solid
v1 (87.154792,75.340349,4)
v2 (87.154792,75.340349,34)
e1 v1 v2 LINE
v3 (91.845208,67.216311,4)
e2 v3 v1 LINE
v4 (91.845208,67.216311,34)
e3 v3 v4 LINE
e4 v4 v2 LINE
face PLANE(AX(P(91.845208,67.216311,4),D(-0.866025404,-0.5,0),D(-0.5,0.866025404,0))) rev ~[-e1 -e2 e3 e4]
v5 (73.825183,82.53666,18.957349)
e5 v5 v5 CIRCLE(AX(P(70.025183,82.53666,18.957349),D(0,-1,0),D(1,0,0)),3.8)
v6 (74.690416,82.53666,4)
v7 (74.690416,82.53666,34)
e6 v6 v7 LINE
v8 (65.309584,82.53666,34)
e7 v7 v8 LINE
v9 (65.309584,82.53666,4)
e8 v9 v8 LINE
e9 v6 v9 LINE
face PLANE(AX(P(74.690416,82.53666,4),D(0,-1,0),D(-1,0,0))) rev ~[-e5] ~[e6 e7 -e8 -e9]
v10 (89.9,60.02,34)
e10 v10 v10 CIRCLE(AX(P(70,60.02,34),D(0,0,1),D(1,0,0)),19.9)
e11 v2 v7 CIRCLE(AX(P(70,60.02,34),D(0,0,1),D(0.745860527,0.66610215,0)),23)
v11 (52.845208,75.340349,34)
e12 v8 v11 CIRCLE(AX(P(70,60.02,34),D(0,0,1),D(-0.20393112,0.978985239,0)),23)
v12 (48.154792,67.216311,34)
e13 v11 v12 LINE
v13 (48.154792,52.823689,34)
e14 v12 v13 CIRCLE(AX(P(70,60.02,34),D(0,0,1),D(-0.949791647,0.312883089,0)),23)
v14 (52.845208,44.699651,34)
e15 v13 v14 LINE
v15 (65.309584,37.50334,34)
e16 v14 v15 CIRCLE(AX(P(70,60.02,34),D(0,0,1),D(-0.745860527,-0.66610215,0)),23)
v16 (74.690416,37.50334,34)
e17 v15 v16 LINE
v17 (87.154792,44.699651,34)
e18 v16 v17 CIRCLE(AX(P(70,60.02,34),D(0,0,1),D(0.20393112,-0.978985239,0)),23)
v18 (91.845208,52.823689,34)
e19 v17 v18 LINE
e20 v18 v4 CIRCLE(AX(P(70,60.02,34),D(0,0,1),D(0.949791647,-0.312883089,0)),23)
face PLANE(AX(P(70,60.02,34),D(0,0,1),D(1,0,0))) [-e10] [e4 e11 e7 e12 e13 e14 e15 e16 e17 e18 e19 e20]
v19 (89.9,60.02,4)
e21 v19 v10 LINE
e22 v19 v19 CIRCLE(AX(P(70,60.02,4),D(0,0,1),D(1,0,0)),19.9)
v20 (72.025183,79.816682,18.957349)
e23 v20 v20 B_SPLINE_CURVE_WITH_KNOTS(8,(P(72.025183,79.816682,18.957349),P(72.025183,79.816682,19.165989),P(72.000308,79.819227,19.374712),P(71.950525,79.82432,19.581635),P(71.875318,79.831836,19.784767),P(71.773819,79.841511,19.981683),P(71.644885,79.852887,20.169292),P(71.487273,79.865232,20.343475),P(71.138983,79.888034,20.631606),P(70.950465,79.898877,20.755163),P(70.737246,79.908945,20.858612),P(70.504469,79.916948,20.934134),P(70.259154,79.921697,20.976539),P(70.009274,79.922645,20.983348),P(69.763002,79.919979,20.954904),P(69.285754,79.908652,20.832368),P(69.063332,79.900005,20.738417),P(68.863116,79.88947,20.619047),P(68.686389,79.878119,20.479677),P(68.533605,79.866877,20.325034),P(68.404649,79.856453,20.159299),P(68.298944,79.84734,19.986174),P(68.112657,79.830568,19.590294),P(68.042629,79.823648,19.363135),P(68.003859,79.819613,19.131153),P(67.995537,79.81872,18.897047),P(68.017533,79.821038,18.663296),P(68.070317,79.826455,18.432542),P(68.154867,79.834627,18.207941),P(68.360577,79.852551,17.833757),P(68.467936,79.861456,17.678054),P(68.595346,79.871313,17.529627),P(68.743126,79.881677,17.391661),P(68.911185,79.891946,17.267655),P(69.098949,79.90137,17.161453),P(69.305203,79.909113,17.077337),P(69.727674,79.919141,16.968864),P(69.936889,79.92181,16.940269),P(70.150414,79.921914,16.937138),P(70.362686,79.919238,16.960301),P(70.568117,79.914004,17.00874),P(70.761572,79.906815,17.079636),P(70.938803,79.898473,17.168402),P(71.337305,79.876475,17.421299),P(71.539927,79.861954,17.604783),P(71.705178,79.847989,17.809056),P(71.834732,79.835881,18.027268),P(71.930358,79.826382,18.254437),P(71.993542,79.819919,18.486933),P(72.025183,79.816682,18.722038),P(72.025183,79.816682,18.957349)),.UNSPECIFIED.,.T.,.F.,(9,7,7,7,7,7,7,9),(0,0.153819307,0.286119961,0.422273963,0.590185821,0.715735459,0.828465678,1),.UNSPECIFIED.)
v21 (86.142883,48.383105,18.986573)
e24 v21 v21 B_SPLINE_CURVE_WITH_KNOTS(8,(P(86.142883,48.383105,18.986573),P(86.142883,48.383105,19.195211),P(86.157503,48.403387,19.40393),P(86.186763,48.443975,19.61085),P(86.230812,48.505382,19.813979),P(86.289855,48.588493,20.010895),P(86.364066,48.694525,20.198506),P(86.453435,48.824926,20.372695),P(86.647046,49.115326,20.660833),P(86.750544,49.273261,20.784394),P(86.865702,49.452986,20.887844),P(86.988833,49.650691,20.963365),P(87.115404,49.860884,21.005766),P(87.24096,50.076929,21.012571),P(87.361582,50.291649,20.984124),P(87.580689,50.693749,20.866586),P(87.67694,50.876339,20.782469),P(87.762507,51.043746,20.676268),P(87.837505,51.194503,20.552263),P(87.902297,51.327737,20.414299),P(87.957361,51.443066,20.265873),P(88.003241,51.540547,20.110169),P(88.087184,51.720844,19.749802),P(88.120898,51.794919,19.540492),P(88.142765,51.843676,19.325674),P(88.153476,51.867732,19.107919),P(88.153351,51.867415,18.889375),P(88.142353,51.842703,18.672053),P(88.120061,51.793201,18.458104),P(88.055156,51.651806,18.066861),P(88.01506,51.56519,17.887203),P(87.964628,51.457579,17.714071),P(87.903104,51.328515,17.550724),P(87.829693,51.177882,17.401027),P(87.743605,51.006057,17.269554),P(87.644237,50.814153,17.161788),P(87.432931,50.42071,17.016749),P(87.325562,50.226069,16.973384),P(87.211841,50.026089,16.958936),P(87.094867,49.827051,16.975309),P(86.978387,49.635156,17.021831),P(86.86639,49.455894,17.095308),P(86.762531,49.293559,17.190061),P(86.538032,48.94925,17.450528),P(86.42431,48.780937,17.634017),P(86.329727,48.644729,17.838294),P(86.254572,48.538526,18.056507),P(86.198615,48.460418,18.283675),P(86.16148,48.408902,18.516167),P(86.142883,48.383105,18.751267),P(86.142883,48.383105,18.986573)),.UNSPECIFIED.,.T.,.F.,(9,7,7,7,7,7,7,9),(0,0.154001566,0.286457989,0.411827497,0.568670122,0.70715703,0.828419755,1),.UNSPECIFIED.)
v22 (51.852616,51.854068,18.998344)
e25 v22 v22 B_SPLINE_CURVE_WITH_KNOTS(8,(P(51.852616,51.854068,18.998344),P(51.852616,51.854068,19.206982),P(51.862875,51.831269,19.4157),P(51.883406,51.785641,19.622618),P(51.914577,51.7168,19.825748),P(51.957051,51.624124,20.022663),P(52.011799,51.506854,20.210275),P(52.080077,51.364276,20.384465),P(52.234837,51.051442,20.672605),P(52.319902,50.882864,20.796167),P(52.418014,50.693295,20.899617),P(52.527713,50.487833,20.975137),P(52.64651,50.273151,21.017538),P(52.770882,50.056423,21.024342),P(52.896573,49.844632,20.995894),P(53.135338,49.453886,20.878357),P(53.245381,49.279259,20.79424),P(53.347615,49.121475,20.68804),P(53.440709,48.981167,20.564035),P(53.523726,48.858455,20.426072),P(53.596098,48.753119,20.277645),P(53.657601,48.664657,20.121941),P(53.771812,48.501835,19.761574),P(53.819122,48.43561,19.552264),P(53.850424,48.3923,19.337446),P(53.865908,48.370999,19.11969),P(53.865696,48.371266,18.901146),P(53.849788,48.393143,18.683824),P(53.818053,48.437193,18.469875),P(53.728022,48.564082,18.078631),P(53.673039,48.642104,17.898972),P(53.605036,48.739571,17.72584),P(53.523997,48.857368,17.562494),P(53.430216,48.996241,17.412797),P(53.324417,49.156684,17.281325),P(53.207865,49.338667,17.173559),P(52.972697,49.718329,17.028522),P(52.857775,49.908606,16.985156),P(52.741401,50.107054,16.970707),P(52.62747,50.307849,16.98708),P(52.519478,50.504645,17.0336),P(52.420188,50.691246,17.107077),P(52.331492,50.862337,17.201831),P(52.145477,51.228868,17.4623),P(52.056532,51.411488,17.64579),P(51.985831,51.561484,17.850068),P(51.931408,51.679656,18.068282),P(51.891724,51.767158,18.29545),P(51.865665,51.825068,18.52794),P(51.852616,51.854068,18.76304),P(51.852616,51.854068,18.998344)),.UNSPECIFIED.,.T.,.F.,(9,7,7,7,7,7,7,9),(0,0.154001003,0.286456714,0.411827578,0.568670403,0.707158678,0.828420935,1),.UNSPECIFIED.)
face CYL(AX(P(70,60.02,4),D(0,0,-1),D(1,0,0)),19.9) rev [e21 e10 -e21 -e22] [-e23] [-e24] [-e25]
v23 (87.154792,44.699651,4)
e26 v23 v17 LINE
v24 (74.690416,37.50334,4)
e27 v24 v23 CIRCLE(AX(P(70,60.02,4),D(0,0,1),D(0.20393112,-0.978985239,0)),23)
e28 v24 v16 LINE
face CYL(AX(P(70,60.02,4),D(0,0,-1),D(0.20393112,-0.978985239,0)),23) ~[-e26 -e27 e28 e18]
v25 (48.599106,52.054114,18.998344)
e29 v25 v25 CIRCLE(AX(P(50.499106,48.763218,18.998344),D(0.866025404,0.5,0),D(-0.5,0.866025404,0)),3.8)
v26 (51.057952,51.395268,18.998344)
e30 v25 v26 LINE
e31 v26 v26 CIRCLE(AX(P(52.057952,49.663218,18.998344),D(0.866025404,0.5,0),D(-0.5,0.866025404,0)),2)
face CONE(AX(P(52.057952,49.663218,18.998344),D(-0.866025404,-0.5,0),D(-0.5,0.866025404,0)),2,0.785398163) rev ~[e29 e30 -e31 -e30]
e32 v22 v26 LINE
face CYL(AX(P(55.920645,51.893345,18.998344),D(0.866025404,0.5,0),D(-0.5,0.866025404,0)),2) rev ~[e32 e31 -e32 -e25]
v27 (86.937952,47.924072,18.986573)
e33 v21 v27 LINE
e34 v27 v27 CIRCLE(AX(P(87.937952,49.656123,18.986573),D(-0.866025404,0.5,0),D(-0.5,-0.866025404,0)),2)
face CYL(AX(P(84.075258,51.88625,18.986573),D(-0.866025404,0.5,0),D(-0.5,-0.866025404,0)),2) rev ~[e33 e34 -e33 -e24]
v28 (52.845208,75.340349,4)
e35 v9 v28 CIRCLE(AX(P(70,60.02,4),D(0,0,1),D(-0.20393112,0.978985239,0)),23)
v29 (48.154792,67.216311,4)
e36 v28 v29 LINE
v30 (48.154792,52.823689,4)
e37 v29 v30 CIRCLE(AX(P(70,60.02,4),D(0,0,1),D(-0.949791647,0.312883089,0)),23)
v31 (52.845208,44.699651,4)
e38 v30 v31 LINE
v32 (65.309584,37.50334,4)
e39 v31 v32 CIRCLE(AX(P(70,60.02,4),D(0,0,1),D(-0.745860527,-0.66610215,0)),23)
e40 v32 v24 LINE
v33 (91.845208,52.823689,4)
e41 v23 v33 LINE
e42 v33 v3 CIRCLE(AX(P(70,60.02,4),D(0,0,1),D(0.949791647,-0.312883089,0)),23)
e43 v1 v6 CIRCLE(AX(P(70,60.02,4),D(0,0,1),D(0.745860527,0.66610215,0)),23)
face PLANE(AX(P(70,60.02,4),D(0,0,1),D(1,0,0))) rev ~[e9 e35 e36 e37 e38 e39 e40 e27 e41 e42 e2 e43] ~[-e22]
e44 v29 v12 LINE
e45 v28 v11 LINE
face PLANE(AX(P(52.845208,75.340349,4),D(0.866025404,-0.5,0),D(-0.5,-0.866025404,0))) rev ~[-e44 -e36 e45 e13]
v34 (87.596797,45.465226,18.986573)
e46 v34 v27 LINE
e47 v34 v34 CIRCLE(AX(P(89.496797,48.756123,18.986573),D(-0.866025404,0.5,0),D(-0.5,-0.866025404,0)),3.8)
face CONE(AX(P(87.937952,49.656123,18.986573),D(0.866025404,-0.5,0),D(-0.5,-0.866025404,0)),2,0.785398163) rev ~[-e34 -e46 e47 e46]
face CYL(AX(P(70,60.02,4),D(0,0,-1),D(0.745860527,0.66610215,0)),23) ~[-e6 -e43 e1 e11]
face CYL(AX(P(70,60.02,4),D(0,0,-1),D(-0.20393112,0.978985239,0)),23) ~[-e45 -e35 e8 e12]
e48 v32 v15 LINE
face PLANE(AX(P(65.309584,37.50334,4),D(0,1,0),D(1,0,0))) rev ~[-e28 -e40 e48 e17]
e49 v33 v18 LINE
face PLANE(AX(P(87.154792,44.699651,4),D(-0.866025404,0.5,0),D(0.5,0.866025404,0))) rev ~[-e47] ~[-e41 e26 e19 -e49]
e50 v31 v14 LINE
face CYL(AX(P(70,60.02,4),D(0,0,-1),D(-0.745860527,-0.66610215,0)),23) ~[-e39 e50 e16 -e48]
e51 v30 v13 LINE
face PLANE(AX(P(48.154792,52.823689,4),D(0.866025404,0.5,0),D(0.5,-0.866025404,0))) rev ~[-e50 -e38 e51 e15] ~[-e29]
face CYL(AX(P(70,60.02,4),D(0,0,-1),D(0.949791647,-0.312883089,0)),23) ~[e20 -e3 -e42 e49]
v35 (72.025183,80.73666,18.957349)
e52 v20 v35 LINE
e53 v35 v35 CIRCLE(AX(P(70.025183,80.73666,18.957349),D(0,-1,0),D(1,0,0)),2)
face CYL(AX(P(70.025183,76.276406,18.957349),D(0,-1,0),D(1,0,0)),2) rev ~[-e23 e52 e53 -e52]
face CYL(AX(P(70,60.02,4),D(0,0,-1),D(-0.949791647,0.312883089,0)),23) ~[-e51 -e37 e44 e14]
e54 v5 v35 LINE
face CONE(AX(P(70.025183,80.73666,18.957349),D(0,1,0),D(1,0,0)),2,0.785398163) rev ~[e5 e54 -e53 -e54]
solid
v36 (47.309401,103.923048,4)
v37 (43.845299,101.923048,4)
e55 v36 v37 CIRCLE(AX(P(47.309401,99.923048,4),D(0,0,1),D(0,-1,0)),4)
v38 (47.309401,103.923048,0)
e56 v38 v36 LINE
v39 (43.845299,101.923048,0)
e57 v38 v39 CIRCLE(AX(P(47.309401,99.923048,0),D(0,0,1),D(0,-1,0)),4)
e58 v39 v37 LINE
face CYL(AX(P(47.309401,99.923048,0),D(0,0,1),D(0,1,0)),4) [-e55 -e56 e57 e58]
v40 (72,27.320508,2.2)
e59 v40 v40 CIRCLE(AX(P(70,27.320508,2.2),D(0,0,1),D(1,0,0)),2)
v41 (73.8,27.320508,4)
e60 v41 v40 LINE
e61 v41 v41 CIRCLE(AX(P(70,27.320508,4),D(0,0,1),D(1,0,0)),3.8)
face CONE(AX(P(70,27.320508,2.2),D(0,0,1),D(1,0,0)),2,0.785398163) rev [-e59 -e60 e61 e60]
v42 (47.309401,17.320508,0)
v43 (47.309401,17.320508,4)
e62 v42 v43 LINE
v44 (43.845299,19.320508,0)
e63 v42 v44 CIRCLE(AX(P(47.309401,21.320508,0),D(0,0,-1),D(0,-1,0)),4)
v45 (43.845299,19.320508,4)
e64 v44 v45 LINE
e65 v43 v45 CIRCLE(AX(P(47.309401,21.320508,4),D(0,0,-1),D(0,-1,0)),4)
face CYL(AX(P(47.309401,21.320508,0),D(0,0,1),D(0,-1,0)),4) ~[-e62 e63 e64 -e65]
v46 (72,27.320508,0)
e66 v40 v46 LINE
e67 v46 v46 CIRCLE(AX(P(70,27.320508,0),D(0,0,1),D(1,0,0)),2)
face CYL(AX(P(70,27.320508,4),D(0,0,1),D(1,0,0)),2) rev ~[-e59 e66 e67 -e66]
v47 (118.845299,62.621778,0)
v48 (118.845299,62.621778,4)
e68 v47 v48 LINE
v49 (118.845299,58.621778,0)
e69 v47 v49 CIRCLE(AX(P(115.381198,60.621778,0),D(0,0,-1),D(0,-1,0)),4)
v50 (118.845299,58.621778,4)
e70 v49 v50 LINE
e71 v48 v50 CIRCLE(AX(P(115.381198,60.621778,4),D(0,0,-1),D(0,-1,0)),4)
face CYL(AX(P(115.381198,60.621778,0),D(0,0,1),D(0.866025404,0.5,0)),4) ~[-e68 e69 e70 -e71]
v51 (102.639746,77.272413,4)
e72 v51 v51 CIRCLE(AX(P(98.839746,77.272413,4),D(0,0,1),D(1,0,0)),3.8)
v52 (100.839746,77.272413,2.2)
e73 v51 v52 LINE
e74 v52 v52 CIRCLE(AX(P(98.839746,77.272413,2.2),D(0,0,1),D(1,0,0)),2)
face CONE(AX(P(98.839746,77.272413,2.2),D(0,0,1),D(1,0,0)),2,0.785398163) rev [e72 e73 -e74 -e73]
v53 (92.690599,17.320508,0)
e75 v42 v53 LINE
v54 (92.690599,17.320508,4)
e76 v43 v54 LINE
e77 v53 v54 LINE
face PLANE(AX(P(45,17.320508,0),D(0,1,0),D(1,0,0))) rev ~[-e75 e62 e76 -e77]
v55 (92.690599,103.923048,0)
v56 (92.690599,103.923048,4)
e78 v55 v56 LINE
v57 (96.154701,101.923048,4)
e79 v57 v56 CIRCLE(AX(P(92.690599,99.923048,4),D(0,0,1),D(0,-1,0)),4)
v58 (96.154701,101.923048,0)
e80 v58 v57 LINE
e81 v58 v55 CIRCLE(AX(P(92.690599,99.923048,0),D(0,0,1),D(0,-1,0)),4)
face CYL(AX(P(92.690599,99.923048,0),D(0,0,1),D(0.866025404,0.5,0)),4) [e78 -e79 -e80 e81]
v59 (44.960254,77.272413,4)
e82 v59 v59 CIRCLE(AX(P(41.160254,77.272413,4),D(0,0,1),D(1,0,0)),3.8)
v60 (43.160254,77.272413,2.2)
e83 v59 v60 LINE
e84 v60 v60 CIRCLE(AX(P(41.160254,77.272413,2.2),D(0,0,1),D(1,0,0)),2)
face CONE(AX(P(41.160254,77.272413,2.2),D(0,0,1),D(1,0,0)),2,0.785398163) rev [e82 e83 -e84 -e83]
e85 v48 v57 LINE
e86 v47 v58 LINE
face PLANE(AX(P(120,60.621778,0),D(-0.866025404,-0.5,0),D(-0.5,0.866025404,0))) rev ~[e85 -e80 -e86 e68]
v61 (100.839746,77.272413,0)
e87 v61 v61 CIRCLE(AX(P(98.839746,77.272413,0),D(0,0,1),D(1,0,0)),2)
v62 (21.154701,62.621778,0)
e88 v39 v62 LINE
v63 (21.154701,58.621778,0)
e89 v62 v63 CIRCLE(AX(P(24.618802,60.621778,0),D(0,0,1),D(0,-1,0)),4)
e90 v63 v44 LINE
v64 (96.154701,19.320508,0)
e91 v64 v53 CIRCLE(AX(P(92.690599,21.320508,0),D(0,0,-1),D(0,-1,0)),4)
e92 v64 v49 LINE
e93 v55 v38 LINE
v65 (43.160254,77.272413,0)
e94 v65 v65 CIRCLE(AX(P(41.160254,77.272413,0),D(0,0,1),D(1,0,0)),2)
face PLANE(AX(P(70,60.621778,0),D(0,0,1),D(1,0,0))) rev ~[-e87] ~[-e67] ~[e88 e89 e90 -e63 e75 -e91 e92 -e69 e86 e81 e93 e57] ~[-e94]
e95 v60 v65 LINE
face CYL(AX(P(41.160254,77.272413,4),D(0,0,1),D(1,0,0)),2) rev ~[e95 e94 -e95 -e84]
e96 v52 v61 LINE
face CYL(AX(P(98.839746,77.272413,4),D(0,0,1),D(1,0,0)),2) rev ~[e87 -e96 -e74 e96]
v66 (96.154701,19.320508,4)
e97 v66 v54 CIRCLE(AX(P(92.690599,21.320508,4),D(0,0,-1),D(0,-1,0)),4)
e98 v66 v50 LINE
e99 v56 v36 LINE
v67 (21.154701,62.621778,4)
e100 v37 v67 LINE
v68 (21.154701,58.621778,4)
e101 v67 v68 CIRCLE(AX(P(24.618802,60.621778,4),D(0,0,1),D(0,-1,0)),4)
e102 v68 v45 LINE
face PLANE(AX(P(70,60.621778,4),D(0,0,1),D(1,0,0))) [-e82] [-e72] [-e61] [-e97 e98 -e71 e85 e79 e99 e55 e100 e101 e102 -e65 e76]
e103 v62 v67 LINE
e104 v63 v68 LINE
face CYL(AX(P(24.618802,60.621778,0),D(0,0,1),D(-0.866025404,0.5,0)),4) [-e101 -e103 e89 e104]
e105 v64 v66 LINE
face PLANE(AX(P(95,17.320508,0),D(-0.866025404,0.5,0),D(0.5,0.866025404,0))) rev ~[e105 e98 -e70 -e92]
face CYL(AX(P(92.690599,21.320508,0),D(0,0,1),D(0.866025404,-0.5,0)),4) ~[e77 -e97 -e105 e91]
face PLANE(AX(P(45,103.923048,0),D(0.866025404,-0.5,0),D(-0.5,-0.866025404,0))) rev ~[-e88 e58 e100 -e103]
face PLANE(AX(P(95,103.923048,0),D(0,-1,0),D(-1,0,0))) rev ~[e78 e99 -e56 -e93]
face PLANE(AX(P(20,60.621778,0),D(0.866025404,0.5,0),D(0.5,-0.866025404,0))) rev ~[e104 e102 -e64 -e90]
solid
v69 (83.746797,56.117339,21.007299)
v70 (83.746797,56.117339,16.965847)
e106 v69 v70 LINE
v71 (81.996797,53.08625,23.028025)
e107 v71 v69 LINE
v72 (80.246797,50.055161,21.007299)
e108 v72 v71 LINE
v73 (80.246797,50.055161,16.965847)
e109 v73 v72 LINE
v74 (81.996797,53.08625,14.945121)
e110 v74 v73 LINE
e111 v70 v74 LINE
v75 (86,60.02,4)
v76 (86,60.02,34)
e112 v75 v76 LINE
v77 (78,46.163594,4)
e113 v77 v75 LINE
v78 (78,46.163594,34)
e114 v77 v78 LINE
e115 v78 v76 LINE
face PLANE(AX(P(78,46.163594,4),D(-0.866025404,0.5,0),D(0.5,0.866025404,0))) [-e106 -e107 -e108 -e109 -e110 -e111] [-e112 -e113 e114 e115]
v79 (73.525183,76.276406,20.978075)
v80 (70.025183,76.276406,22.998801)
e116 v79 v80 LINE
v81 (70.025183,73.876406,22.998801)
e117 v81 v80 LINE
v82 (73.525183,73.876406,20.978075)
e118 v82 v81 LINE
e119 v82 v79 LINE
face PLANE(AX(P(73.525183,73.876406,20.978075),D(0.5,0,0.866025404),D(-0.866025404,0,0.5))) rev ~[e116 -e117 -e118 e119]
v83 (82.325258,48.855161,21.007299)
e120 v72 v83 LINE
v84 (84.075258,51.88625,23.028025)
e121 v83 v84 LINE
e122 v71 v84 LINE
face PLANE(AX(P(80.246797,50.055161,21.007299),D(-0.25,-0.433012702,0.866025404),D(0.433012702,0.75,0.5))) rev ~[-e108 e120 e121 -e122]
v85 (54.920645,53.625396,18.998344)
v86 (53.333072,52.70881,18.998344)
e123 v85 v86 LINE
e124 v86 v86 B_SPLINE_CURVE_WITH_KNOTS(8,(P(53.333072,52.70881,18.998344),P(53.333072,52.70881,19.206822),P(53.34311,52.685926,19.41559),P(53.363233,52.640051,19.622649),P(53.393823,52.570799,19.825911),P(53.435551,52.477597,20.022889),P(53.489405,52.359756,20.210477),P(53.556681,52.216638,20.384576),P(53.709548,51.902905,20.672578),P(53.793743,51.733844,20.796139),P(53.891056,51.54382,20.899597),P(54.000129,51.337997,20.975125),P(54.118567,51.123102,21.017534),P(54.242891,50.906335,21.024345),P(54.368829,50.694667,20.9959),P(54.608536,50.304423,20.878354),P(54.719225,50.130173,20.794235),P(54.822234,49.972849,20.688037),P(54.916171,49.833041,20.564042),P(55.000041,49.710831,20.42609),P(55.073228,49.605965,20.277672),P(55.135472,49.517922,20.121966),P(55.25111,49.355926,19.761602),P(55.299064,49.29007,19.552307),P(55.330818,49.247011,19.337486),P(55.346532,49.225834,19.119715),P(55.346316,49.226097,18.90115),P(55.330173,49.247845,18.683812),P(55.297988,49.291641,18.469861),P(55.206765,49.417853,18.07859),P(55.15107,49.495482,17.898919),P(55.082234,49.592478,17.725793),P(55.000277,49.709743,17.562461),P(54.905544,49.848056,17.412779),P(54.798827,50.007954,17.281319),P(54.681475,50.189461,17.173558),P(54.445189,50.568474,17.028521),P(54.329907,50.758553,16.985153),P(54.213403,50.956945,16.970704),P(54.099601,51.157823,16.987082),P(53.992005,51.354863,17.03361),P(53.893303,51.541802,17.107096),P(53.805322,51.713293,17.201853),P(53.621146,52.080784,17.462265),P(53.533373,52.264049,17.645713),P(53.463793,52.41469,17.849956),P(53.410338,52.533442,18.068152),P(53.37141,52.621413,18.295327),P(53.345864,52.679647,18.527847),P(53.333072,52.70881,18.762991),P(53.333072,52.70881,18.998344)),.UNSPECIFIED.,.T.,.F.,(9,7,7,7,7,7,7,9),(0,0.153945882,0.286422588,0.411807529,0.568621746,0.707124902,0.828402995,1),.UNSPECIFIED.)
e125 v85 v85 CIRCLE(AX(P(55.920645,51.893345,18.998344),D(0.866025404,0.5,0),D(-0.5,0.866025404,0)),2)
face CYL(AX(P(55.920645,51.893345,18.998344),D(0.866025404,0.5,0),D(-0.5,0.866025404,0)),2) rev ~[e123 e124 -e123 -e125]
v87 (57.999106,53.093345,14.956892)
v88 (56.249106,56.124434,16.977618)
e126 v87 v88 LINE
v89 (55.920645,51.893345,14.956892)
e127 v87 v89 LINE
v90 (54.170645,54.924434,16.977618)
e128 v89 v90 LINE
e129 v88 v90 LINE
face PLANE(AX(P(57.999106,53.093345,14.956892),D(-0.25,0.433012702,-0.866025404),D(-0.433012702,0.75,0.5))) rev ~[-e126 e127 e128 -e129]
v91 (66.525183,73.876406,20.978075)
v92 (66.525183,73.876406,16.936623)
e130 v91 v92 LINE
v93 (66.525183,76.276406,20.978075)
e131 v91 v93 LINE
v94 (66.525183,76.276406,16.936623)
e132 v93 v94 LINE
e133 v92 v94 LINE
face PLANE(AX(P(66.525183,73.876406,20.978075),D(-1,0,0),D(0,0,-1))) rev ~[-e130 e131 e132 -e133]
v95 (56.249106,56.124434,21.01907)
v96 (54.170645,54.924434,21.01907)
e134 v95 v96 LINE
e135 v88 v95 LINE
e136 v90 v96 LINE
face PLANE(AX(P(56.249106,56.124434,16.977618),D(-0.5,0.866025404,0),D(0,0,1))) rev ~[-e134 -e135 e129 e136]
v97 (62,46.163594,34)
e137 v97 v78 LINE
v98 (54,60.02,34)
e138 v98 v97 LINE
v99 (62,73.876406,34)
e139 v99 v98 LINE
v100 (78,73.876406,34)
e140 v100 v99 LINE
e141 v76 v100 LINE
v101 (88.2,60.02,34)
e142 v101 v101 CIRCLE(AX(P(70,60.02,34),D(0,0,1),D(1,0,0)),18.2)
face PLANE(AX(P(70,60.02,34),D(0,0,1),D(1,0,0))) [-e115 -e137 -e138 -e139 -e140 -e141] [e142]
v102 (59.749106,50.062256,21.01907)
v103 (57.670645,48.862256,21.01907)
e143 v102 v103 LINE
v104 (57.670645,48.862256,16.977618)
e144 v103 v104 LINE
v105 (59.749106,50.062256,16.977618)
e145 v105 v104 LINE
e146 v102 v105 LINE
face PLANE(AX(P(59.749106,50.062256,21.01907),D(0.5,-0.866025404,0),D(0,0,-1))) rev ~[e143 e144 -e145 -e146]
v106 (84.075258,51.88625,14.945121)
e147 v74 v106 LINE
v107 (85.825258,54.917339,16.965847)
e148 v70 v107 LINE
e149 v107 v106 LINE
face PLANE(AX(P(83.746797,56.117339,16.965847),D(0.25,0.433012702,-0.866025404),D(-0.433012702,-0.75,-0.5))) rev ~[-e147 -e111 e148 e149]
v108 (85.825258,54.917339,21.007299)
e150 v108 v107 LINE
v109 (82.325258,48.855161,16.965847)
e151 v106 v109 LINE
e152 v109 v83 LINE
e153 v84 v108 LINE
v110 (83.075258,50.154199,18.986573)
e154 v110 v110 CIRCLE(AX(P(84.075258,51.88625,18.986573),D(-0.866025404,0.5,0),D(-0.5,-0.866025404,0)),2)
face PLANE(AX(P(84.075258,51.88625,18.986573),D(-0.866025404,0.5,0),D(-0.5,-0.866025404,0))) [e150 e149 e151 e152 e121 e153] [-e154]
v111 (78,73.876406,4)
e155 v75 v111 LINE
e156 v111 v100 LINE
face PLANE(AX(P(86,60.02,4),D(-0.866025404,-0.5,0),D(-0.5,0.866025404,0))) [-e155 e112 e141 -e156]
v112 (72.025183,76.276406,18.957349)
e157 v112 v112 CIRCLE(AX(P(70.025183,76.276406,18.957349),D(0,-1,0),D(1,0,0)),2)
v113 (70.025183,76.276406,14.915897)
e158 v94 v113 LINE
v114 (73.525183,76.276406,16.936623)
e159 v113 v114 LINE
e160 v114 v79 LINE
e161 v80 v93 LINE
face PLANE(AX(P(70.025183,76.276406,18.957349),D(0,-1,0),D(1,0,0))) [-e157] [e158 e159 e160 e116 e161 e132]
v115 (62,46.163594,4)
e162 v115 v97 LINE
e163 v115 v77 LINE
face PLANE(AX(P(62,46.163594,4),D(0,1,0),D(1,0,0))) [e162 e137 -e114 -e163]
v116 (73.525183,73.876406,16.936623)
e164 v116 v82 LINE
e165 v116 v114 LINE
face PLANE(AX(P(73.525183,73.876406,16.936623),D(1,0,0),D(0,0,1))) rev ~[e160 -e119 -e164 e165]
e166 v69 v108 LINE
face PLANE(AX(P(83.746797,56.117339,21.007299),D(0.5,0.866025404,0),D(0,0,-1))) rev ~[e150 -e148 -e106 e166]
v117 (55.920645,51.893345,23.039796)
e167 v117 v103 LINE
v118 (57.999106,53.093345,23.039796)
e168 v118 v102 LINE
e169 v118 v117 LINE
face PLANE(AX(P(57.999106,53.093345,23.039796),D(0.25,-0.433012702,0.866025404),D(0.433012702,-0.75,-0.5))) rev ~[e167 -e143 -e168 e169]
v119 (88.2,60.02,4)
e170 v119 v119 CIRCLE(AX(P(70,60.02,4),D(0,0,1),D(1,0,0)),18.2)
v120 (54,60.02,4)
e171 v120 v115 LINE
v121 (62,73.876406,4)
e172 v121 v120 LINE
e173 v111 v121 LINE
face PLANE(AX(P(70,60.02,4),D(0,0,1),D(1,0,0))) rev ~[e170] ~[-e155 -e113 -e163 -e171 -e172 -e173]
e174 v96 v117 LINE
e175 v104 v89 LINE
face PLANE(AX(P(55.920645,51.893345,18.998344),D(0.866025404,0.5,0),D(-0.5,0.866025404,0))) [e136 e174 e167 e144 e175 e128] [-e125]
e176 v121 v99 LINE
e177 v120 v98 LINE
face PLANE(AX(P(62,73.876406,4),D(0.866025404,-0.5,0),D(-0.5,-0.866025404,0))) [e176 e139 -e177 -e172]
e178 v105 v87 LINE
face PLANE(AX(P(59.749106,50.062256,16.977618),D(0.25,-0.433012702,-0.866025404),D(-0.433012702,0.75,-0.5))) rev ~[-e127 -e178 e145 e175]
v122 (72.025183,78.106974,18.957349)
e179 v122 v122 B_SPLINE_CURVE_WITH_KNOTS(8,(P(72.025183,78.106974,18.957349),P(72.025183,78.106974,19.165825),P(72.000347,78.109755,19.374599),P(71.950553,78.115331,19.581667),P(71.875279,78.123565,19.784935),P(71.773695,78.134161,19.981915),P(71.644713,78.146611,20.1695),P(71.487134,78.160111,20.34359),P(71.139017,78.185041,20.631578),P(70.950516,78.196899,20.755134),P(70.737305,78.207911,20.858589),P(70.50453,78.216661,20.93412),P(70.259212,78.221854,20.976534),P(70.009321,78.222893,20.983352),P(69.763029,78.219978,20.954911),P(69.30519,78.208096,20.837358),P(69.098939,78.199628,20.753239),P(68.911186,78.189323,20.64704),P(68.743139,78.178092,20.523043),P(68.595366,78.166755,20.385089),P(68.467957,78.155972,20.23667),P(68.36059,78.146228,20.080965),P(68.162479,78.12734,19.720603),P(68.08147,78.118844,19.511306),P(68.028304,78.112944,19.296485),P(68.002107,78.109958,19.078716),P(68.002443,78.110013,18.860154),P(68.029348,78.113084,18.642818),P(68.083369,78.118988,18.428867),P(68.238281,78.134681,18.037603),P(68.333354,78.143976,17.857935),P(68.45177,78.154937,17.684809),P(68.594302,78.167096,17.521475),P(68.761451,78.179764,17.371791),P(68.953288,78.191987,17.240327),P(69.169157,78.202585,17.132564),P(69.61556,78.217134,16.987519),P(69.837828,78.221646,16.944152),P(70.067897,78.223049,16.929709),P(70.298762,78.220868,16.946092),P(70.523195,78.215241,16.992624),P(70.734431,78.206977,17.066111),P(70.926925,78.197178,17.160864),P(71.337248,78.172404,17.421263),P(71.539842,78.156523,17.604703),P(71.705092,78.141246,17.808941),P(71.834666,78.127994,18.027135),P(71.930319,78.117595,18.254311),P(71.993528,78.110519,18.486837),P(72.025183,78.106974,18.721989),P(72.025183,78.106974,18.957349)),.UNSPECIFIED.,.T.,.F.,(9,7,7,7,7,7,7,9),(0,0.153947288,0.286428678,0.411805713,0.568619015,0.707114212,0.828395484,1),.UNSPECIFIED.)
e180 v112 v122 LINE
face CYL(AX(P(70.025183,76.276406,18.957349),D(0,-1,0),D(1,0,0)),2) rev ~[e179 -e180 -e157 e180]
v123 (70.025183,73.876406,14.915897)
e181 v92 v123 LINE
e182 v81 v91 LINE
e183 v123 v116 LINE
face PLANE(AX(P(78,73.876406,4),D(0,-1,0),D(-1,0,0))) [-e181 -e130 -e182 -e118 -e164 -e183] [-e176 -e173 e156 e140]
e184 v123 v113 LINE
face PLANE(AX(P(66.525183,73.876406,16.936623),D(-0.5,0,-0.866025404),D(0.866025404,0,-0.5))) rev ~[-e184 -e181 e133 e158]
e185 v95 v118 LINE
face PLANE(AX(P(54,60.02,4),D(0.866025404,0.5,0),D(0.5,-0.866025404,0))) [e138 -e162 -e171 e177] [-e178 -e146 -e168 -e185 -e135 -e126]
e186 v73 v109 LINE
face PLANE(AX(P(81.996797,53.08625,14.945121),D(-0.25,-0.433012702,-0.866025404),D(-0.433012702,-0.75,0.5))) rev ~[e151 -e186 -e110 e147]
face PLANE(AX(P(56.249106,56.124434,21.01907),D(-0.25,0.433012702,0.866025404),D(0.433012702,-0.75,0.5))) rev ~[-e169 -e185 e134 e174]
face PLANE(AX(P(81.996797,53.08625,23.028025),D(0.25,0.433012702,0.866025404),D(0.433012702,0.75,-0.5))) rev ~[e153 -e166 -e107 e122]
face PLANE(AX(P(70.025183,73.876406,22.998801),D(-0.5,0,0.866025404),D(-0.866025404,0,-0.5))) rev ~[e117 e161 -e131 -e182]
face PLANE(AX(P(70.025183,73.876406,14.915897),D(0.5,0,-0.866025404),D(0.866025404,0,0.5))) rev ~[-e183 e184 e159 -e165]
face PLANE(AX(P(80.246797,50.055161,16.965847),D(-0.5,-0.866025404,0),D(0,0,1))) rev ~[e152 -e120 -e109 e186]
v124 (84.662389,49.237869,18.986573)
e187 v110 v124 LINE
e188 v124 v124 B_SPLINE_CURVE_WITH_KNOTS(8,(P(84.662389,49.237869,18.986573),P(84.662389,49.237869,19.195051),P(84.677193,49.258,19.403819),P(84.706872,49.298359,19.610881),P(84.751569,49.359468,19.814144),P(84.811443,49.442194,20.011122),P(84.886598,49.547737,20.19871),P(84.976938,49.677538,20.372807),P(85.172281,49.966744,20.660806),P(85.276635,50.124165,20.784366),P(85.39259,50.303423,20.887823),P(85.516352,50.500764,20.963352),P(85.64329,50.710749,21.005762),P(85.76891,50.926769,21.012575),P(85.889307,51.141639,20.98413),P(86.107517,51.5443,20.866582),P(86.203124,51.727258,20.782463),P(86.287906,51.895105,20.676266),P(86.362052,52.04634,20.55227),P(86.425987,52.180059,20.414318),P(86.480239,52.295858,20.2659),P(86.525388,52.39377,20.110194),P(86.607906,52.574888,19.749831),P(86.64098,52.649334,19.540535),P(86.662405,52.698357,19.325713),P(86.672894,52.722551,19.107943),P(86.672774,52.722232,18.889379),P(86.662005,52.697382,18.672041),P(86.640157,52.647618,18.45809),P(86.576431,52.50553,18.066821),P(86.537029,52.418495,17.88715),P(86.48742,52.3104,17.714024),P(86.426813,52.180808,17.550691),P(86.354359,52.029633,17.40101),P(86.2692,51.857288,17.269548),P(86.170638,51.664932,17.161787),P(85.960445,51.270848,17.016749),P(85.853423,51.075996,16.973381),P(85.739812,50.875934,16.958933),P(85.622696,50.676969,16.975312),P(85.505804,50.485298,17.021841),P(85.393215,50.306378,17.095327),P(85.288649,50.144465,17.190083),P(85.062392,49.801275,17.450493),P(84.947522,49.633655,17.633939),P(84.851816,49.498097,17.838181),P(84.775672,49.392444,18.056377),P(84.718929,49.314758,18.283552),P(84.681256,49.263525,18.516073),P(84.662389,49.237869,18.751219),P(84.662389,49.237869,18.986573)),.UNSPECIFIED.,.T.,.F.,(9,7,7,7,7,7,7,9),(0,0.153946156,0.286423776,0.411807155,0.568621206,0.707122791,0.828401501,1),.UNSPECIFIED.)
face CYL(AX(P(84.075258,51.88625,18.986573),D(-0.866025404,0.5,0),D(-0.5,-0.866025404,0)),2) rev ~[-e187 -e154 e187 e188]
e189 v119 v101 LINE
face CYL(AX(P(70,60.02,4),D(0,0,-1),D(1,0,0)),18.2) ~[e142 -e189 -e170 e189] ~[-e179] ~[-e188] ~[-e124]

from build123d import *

# Parameters (mm, degrees)
SKETCH008_AS_DRAWN_R                      = 2
EXTRUDE009_DEPTH                          = 10
EXTRUDE009_ONTO_SKETCH008_ROLL_ANGLE      = 90
EXTRUDE009_ONTO_SKETCH008_PLACEMENT_ANGLE = 120
SKETCH007_AS_DRAWN_R                      = 2
EXTRUDE008_DEPTH                          = 10
EXTRUDE008_ONTO_SKETCH007_ROLL_ANGLE      = 90
EXTRUDE008_ONTO_SKETCH007_PLACEMENT_ANGLE = -120
SKETCH006_R                               = 2
EXTRUDE007_DEPTH                          = 10
EXTRUDE006_DEPTH                          = 2.4
EXTRUDE006_ONTO_SKETCH005_ROLL_ANGLE      = 90
EXTRUDE006_ONTO_SKETCH005_PLACEMENT_ANGLE = -120
EXTRUDE005_DEPTH                          = 2.4
EXTRUDE005_ONTO_SKETCH004_ROLL_ANGLE      = 90
EXTRUDE005_ONTO_SKETCH004_PLACEMENT_ANGLE = 120
EXTRUDE004_DEPTH                          = 2.4
SKETCH001_R                               = 18.2
EXTRUDE001_DEPTH                          = 30
SKETCH002_R                               = 19.9
EXTRUDE002_DEPTH                          = 30
CHAMFER_SIZE                              = 1.8
SKETCH009_R                               = 2
EXTRUDE010_DEPTH                          = 10
EXTRUDE_DEPTH                             = 4
CHAMFER001_SIZE                           = 1.8
FILLET_R                                  = 4


with BuildPart() as extrude009:
    # Sketch008 as drawn → Extrude009 (new)
    with BuildSketch(Plane.XY):
        with Locations((16.9806321375, 18.9983442041)):
            Circle(SKETCH008_AS_DRAWN_R)
    extrude(amount=-EXTRUDE009_DEPTH)


with BuildPart() as extrude009_1:
    # Extrude009 onto Sketch008 roll: moved
    add(extrude009.part.rotate(Axis((0, 0, 0), (1, 0, 0)), EXTRUDE009_ONTO_SKETCH008_ROLL_ANGLE))


with BuildPart() as extrude009_2:
    # Extrude009 onto Sketch008 placement: moved
    add(extrude009_1.part.moved(Location((64.4109613985, 37.1876859022, 0))).rotate(Axis((64.4109613985, 37.1876859022, 0), (0, 0, 1)), EXTRUDE009_ONTO_SKETCH008_PLACEMENT_ANGLE))


with BuildPart() as extrude008:
    # Sketch007 as drawn → Extrude008 (new)
    with BuildSketch(Plane.XY):
        with Locations((-86.9724395653, 18.986573062)):
            Circle(SKETCH007_AS_DRAWN_R)
    extrude(amount=-EXTRUDE008_DEPTH)


with BuildPart() as extrude008_1:
    # Extrude008 onto Sketch007 roll: moved
    add(extrude008.part.rotate(Axis((0, 0, 0), (1, 0, 0)), EXTRUDE008_ONTO_SKETCH007_ROLL_ANGLE))


with BuildPart() as extrude008_2:
    # Extrude008 onto Sketch007 placement: moved
    add(extrude008_1.part.moved(Location((40.5890386015, -23.4340923627, 0))).rotate(Axis((40.5890386015, -23.4340923627, 0), (0, 0, 1)), EXTRUDE008_ONTO_SKETCH007_PLACEMENT_ANGLE))


with BuildPart() as extrude007:
    # Sketch006 (on Face29 of Cut002) → Extrude007 (new body)
    with BuildSketch(Plane.XZ.offset(-76.2764064606)):
        with Locations((70.0251825662, 18.9573489466)):
            Circle(SKETCH006_R)
    extrude(amount=-EXTRUDE007_DEPTH)


with BuildPart() as extrude006:
    # Sketch005 as drawn → Extrude006 (new)
    with BuildSketch(Plane.XY):
        Polygon((-86.9724395653, 14.9451211777), (-83.4724395653, 16.9658471198), (-83.4724395653, 21.0072990042), (-86.9724395653, 23.0280249463), (-90.4724395653, 21.0072990042), (-90.4724395653, 16.9658471198), align=None)
    extrude(amount=-EXTRUDE006_DEPTH)


with BuildPart() as extrude006_1:
    # Extrude006 onto Sketch005 roll: moved
    add(extrude006.part.rotate(Axis((0, 0, 0), (1, 0, 0)), EXTRUDE006_ONTO_SKETCH005_ROLL_ANGLE))


with BuildPart() as extrude006_2:
    # Extrude006 onto Sketch005 placement: moved
    add(extrude006_1.part.moved(Location((38.5105776324, -22.2340923627, 0))).rotate(Axis((38.5105776324, -22.2340923627, 0), (0, 0, 1)), EXTRUDE006_ONTO_SKETCH005_PLACEMENT_ANGLE))


with BuildPart() as extrude005:
    # Sketch004 as drawn → Extrude005 (new)
    with BuildSketch(Plane.XY):
        Polygon((16.9806321375, 14.9568923197), (20.4806321375, 16.9776182619), (20.4806321375, 21.0190701462), (16.9806321375, 23.0397960884), (13.4806321375, 21.0190701462), (13.4806321375, 16.9776182619), align=None)
    extrude(amount=-EXTRUDE005_DEPTH)


with BuildPart() as extrude005_1:
    # Extrude005 onto Sketch004 roll: moved
    add(extrude005.part.rotate(Axis((0, 0, 0), (1, 0, 0)), EXTRUDE005_ONTO_SKETCH004_ROLL_ANGLE))


with BuildPart() as extrude005_2:
    # Extrude005 onto Sketch004 placement: moved
    add(extrude005_1.part.moved(Location((66.4894223676, 38.3876859022, 0))).rotate(Axis((66.4894223676, 38.3876859022, 0), (0, 0, 1)), EXTRUDE005_ONTO_SKETCH004_PLACEMENT_ANGLE))


with BuildPart() as extrude004:
    # Sketch003 (on Face4 of Extrude001) → Extrude004 (new body)
    with BuildSketch(Plane.XZ.offset(-73.8764064606)):
        Polygon((70.0251825662, 14.9158970623), (73.5251825662, 16.9366230045), (73.5251825662, 20.9780748888), (70.0251825662, 22.9988008309), (66.5251825662, 20.9780748888), (66.5251825662, 16.9366230045), align=None)
    extrude(amount=-EXTRUDE004_DEPTH)


with BuildPart() as cut005:
    # Sketch001 (on Face8 of Extrude) → Extrude001 (new body)
    with BuildSketch(Plane.XY.offset(4)):
        with Locations((70, 60.02)):
            Circle(SKETCH001_R)
        Polygon((78, 46.1635935394), (86, 60.02), (78, 73.8764064606), (62, 73.8764064606), (54, 60.02), (62, 46.1635935394), align=None, mode=Mode.SUBTRACT)
    extrude(amount=EXTRUDE001_DEPTH)

    # Cut: cut Extrude004
    add(extrude004.part, mode=Mode.SUBTRACT)

    # Cut001: cut Extrude005
    add(extrude005_2.part, mode=Mode.SUBTRACT)

    # Cut002: cut Extrude006
    add(extrude006_2.part, mode=Mode.SUBTRACT)

    # Cut003: cut Extrude007
    add(extrude007.part, mode=Mode.SUBTRACT)

    # Cut004: cut Extrude008
    add(extrude008_2.part, mode=Mode.SUBTRACT)

    # Cut005: cut Extrude009
    add(extrude009_2.part, mode=Mode.SUBTRACT)


with BuildPart() as chamfer_body:
    # Sketch002 (on Face8 of Extrude) → Extrude002 (new body)
    with BuildSketch(Plane.XY.offset(4)):
        with BuildLine():
            Line((87.1547921201, 44.6996505485), (91.8452078799, 52.8236889531))
            ThreePointArc((91.8452078799, 52.8236889531), (93, 60.02), (91.8452078799, 67.2163110469))
            Line((91.8452078799, 67.2163110469), (87.1547921201, 75.3403494515))
            ThreePointArc((87.1547921201, 75.3403494515), (81.5, 79.938584287), (74.6904157598, 82.5366604984))
            Line((74.6904157598, 82.5366604984), (65.3095842402, 82.5366604984))
            ThreePointArc((65.3095842402, 82.5366604984), (58.5, 79.938584287), (52.8452078799, 75.3403494515))
            Line((52.8452078799, 75.3403494515), (48.1547921201, 67.2163110469))
            ThreePointArc((48.1547921201, 67.2163110469), (47, 60.02), (48.1547921201, 52.8236889531))
            Line((48.1547921201, 52.8236889531), (52.8452078799, 44.6996505485))
            ThreePointArc((52.8452078799, 44.6996505485), (58.5, 40.101415713), (65.3095842402, 37.5033395016))
            Line((65.3095842402, 37.5033395016), (74.6904157598, 37.5033395016))
            ThreePointArc((74.6904157598, 37.5033395016), (81.5, 40.101415713), (87.1547921201, 44.6996505485))
        make_face()
        with Locations((70, 60.02)):
            Circle(SKETCH002_R, mode=Mode.SUBTRACT)
    extrude(amount=EXTRUDE002_DEPTH)

    # Cut006: cut Extrude009
    add(extrude009_2.part, mode=Mode.SUBTRACT)

    # Cut007: cut Extrude007
    add(extrude007.part, mode=Mode.SUBTRACT)

    # Cut008: cut Extrude008
    add(extrude008_2.part, mode=Mode.SUBTRACT)

    # Chamfer
    chamfer_edges = [chamfer_body.edges().sort_by_distance(p)[0] for p in [
        (90.496797, 50.488174, 18.986573),
        (68.025183, 82.53666, 18.957349),
        (51.499106, 47.031167, 18.998344),
    ]]
    chamfer(chamfer_edges, length=CHAMFER_SIZE)


with BuildPart() as extrude010:
    # Sketch009 (on Face8 of Extrude) → Extrude010 (new body)
    with BuildSketch(Plane.XY.offset(4)):
        with Locations((98.8397459622, 77.2724130946)):
            Circle(SKETCH009_R)
        with Locations((41.1602540378, 77.2724130946)):
            Circle(SKETCH009_R)
        with Locations((70, 27.3205078108)):
            Circle(SKETCH009_R)
    extrude(amount=-EXTRUDE010_DEPTH)


with BuildPart() as fillet_body:
    # Sketch → Extrude (new body)
    with BuildSketch(Plane.XY):
        Polygon((120, 60.621778), (95, 103.9230481892), (45, 103.9230481892), (20, 60.621778), (45, 17.3205078108), (95, 17.3205078108), align=None)
    extrude(amount=EXTRUDE_DEPTH)

    # Cut009: cut Extrude010
    add(extrude010.part, mode=Mode.SUBTRACT)

    # Chamfer001
    chamfer001_edges = [fillet_body.edges().sort_by_distance(p)[0] for p in [
        (68, 27.320508, 4),
        (39.160254, 77.272413, 4),
        (96.839746, 77.272413, 4),
    ]]
    chamfer(chamfer001_edges, length=CHAMFER001_SIZE)

    # Fillet
    fillet_edges = [fillet_body.edges().sort_by_distance(p)[0] for p in [
        (120, 60.621778, 2),
        (95, 103.923048, 2),
        (95, 17.320508, 2),
        (45, 103.923048, 2),
        (45, 17.320508, 2),
        (20, 60.621778, 2),
    ]]
    fillet(fillet_edges, radius=FILLET_R)


solid = Compound([cut005.part, chamfer_body.part, fillet_body.part])
